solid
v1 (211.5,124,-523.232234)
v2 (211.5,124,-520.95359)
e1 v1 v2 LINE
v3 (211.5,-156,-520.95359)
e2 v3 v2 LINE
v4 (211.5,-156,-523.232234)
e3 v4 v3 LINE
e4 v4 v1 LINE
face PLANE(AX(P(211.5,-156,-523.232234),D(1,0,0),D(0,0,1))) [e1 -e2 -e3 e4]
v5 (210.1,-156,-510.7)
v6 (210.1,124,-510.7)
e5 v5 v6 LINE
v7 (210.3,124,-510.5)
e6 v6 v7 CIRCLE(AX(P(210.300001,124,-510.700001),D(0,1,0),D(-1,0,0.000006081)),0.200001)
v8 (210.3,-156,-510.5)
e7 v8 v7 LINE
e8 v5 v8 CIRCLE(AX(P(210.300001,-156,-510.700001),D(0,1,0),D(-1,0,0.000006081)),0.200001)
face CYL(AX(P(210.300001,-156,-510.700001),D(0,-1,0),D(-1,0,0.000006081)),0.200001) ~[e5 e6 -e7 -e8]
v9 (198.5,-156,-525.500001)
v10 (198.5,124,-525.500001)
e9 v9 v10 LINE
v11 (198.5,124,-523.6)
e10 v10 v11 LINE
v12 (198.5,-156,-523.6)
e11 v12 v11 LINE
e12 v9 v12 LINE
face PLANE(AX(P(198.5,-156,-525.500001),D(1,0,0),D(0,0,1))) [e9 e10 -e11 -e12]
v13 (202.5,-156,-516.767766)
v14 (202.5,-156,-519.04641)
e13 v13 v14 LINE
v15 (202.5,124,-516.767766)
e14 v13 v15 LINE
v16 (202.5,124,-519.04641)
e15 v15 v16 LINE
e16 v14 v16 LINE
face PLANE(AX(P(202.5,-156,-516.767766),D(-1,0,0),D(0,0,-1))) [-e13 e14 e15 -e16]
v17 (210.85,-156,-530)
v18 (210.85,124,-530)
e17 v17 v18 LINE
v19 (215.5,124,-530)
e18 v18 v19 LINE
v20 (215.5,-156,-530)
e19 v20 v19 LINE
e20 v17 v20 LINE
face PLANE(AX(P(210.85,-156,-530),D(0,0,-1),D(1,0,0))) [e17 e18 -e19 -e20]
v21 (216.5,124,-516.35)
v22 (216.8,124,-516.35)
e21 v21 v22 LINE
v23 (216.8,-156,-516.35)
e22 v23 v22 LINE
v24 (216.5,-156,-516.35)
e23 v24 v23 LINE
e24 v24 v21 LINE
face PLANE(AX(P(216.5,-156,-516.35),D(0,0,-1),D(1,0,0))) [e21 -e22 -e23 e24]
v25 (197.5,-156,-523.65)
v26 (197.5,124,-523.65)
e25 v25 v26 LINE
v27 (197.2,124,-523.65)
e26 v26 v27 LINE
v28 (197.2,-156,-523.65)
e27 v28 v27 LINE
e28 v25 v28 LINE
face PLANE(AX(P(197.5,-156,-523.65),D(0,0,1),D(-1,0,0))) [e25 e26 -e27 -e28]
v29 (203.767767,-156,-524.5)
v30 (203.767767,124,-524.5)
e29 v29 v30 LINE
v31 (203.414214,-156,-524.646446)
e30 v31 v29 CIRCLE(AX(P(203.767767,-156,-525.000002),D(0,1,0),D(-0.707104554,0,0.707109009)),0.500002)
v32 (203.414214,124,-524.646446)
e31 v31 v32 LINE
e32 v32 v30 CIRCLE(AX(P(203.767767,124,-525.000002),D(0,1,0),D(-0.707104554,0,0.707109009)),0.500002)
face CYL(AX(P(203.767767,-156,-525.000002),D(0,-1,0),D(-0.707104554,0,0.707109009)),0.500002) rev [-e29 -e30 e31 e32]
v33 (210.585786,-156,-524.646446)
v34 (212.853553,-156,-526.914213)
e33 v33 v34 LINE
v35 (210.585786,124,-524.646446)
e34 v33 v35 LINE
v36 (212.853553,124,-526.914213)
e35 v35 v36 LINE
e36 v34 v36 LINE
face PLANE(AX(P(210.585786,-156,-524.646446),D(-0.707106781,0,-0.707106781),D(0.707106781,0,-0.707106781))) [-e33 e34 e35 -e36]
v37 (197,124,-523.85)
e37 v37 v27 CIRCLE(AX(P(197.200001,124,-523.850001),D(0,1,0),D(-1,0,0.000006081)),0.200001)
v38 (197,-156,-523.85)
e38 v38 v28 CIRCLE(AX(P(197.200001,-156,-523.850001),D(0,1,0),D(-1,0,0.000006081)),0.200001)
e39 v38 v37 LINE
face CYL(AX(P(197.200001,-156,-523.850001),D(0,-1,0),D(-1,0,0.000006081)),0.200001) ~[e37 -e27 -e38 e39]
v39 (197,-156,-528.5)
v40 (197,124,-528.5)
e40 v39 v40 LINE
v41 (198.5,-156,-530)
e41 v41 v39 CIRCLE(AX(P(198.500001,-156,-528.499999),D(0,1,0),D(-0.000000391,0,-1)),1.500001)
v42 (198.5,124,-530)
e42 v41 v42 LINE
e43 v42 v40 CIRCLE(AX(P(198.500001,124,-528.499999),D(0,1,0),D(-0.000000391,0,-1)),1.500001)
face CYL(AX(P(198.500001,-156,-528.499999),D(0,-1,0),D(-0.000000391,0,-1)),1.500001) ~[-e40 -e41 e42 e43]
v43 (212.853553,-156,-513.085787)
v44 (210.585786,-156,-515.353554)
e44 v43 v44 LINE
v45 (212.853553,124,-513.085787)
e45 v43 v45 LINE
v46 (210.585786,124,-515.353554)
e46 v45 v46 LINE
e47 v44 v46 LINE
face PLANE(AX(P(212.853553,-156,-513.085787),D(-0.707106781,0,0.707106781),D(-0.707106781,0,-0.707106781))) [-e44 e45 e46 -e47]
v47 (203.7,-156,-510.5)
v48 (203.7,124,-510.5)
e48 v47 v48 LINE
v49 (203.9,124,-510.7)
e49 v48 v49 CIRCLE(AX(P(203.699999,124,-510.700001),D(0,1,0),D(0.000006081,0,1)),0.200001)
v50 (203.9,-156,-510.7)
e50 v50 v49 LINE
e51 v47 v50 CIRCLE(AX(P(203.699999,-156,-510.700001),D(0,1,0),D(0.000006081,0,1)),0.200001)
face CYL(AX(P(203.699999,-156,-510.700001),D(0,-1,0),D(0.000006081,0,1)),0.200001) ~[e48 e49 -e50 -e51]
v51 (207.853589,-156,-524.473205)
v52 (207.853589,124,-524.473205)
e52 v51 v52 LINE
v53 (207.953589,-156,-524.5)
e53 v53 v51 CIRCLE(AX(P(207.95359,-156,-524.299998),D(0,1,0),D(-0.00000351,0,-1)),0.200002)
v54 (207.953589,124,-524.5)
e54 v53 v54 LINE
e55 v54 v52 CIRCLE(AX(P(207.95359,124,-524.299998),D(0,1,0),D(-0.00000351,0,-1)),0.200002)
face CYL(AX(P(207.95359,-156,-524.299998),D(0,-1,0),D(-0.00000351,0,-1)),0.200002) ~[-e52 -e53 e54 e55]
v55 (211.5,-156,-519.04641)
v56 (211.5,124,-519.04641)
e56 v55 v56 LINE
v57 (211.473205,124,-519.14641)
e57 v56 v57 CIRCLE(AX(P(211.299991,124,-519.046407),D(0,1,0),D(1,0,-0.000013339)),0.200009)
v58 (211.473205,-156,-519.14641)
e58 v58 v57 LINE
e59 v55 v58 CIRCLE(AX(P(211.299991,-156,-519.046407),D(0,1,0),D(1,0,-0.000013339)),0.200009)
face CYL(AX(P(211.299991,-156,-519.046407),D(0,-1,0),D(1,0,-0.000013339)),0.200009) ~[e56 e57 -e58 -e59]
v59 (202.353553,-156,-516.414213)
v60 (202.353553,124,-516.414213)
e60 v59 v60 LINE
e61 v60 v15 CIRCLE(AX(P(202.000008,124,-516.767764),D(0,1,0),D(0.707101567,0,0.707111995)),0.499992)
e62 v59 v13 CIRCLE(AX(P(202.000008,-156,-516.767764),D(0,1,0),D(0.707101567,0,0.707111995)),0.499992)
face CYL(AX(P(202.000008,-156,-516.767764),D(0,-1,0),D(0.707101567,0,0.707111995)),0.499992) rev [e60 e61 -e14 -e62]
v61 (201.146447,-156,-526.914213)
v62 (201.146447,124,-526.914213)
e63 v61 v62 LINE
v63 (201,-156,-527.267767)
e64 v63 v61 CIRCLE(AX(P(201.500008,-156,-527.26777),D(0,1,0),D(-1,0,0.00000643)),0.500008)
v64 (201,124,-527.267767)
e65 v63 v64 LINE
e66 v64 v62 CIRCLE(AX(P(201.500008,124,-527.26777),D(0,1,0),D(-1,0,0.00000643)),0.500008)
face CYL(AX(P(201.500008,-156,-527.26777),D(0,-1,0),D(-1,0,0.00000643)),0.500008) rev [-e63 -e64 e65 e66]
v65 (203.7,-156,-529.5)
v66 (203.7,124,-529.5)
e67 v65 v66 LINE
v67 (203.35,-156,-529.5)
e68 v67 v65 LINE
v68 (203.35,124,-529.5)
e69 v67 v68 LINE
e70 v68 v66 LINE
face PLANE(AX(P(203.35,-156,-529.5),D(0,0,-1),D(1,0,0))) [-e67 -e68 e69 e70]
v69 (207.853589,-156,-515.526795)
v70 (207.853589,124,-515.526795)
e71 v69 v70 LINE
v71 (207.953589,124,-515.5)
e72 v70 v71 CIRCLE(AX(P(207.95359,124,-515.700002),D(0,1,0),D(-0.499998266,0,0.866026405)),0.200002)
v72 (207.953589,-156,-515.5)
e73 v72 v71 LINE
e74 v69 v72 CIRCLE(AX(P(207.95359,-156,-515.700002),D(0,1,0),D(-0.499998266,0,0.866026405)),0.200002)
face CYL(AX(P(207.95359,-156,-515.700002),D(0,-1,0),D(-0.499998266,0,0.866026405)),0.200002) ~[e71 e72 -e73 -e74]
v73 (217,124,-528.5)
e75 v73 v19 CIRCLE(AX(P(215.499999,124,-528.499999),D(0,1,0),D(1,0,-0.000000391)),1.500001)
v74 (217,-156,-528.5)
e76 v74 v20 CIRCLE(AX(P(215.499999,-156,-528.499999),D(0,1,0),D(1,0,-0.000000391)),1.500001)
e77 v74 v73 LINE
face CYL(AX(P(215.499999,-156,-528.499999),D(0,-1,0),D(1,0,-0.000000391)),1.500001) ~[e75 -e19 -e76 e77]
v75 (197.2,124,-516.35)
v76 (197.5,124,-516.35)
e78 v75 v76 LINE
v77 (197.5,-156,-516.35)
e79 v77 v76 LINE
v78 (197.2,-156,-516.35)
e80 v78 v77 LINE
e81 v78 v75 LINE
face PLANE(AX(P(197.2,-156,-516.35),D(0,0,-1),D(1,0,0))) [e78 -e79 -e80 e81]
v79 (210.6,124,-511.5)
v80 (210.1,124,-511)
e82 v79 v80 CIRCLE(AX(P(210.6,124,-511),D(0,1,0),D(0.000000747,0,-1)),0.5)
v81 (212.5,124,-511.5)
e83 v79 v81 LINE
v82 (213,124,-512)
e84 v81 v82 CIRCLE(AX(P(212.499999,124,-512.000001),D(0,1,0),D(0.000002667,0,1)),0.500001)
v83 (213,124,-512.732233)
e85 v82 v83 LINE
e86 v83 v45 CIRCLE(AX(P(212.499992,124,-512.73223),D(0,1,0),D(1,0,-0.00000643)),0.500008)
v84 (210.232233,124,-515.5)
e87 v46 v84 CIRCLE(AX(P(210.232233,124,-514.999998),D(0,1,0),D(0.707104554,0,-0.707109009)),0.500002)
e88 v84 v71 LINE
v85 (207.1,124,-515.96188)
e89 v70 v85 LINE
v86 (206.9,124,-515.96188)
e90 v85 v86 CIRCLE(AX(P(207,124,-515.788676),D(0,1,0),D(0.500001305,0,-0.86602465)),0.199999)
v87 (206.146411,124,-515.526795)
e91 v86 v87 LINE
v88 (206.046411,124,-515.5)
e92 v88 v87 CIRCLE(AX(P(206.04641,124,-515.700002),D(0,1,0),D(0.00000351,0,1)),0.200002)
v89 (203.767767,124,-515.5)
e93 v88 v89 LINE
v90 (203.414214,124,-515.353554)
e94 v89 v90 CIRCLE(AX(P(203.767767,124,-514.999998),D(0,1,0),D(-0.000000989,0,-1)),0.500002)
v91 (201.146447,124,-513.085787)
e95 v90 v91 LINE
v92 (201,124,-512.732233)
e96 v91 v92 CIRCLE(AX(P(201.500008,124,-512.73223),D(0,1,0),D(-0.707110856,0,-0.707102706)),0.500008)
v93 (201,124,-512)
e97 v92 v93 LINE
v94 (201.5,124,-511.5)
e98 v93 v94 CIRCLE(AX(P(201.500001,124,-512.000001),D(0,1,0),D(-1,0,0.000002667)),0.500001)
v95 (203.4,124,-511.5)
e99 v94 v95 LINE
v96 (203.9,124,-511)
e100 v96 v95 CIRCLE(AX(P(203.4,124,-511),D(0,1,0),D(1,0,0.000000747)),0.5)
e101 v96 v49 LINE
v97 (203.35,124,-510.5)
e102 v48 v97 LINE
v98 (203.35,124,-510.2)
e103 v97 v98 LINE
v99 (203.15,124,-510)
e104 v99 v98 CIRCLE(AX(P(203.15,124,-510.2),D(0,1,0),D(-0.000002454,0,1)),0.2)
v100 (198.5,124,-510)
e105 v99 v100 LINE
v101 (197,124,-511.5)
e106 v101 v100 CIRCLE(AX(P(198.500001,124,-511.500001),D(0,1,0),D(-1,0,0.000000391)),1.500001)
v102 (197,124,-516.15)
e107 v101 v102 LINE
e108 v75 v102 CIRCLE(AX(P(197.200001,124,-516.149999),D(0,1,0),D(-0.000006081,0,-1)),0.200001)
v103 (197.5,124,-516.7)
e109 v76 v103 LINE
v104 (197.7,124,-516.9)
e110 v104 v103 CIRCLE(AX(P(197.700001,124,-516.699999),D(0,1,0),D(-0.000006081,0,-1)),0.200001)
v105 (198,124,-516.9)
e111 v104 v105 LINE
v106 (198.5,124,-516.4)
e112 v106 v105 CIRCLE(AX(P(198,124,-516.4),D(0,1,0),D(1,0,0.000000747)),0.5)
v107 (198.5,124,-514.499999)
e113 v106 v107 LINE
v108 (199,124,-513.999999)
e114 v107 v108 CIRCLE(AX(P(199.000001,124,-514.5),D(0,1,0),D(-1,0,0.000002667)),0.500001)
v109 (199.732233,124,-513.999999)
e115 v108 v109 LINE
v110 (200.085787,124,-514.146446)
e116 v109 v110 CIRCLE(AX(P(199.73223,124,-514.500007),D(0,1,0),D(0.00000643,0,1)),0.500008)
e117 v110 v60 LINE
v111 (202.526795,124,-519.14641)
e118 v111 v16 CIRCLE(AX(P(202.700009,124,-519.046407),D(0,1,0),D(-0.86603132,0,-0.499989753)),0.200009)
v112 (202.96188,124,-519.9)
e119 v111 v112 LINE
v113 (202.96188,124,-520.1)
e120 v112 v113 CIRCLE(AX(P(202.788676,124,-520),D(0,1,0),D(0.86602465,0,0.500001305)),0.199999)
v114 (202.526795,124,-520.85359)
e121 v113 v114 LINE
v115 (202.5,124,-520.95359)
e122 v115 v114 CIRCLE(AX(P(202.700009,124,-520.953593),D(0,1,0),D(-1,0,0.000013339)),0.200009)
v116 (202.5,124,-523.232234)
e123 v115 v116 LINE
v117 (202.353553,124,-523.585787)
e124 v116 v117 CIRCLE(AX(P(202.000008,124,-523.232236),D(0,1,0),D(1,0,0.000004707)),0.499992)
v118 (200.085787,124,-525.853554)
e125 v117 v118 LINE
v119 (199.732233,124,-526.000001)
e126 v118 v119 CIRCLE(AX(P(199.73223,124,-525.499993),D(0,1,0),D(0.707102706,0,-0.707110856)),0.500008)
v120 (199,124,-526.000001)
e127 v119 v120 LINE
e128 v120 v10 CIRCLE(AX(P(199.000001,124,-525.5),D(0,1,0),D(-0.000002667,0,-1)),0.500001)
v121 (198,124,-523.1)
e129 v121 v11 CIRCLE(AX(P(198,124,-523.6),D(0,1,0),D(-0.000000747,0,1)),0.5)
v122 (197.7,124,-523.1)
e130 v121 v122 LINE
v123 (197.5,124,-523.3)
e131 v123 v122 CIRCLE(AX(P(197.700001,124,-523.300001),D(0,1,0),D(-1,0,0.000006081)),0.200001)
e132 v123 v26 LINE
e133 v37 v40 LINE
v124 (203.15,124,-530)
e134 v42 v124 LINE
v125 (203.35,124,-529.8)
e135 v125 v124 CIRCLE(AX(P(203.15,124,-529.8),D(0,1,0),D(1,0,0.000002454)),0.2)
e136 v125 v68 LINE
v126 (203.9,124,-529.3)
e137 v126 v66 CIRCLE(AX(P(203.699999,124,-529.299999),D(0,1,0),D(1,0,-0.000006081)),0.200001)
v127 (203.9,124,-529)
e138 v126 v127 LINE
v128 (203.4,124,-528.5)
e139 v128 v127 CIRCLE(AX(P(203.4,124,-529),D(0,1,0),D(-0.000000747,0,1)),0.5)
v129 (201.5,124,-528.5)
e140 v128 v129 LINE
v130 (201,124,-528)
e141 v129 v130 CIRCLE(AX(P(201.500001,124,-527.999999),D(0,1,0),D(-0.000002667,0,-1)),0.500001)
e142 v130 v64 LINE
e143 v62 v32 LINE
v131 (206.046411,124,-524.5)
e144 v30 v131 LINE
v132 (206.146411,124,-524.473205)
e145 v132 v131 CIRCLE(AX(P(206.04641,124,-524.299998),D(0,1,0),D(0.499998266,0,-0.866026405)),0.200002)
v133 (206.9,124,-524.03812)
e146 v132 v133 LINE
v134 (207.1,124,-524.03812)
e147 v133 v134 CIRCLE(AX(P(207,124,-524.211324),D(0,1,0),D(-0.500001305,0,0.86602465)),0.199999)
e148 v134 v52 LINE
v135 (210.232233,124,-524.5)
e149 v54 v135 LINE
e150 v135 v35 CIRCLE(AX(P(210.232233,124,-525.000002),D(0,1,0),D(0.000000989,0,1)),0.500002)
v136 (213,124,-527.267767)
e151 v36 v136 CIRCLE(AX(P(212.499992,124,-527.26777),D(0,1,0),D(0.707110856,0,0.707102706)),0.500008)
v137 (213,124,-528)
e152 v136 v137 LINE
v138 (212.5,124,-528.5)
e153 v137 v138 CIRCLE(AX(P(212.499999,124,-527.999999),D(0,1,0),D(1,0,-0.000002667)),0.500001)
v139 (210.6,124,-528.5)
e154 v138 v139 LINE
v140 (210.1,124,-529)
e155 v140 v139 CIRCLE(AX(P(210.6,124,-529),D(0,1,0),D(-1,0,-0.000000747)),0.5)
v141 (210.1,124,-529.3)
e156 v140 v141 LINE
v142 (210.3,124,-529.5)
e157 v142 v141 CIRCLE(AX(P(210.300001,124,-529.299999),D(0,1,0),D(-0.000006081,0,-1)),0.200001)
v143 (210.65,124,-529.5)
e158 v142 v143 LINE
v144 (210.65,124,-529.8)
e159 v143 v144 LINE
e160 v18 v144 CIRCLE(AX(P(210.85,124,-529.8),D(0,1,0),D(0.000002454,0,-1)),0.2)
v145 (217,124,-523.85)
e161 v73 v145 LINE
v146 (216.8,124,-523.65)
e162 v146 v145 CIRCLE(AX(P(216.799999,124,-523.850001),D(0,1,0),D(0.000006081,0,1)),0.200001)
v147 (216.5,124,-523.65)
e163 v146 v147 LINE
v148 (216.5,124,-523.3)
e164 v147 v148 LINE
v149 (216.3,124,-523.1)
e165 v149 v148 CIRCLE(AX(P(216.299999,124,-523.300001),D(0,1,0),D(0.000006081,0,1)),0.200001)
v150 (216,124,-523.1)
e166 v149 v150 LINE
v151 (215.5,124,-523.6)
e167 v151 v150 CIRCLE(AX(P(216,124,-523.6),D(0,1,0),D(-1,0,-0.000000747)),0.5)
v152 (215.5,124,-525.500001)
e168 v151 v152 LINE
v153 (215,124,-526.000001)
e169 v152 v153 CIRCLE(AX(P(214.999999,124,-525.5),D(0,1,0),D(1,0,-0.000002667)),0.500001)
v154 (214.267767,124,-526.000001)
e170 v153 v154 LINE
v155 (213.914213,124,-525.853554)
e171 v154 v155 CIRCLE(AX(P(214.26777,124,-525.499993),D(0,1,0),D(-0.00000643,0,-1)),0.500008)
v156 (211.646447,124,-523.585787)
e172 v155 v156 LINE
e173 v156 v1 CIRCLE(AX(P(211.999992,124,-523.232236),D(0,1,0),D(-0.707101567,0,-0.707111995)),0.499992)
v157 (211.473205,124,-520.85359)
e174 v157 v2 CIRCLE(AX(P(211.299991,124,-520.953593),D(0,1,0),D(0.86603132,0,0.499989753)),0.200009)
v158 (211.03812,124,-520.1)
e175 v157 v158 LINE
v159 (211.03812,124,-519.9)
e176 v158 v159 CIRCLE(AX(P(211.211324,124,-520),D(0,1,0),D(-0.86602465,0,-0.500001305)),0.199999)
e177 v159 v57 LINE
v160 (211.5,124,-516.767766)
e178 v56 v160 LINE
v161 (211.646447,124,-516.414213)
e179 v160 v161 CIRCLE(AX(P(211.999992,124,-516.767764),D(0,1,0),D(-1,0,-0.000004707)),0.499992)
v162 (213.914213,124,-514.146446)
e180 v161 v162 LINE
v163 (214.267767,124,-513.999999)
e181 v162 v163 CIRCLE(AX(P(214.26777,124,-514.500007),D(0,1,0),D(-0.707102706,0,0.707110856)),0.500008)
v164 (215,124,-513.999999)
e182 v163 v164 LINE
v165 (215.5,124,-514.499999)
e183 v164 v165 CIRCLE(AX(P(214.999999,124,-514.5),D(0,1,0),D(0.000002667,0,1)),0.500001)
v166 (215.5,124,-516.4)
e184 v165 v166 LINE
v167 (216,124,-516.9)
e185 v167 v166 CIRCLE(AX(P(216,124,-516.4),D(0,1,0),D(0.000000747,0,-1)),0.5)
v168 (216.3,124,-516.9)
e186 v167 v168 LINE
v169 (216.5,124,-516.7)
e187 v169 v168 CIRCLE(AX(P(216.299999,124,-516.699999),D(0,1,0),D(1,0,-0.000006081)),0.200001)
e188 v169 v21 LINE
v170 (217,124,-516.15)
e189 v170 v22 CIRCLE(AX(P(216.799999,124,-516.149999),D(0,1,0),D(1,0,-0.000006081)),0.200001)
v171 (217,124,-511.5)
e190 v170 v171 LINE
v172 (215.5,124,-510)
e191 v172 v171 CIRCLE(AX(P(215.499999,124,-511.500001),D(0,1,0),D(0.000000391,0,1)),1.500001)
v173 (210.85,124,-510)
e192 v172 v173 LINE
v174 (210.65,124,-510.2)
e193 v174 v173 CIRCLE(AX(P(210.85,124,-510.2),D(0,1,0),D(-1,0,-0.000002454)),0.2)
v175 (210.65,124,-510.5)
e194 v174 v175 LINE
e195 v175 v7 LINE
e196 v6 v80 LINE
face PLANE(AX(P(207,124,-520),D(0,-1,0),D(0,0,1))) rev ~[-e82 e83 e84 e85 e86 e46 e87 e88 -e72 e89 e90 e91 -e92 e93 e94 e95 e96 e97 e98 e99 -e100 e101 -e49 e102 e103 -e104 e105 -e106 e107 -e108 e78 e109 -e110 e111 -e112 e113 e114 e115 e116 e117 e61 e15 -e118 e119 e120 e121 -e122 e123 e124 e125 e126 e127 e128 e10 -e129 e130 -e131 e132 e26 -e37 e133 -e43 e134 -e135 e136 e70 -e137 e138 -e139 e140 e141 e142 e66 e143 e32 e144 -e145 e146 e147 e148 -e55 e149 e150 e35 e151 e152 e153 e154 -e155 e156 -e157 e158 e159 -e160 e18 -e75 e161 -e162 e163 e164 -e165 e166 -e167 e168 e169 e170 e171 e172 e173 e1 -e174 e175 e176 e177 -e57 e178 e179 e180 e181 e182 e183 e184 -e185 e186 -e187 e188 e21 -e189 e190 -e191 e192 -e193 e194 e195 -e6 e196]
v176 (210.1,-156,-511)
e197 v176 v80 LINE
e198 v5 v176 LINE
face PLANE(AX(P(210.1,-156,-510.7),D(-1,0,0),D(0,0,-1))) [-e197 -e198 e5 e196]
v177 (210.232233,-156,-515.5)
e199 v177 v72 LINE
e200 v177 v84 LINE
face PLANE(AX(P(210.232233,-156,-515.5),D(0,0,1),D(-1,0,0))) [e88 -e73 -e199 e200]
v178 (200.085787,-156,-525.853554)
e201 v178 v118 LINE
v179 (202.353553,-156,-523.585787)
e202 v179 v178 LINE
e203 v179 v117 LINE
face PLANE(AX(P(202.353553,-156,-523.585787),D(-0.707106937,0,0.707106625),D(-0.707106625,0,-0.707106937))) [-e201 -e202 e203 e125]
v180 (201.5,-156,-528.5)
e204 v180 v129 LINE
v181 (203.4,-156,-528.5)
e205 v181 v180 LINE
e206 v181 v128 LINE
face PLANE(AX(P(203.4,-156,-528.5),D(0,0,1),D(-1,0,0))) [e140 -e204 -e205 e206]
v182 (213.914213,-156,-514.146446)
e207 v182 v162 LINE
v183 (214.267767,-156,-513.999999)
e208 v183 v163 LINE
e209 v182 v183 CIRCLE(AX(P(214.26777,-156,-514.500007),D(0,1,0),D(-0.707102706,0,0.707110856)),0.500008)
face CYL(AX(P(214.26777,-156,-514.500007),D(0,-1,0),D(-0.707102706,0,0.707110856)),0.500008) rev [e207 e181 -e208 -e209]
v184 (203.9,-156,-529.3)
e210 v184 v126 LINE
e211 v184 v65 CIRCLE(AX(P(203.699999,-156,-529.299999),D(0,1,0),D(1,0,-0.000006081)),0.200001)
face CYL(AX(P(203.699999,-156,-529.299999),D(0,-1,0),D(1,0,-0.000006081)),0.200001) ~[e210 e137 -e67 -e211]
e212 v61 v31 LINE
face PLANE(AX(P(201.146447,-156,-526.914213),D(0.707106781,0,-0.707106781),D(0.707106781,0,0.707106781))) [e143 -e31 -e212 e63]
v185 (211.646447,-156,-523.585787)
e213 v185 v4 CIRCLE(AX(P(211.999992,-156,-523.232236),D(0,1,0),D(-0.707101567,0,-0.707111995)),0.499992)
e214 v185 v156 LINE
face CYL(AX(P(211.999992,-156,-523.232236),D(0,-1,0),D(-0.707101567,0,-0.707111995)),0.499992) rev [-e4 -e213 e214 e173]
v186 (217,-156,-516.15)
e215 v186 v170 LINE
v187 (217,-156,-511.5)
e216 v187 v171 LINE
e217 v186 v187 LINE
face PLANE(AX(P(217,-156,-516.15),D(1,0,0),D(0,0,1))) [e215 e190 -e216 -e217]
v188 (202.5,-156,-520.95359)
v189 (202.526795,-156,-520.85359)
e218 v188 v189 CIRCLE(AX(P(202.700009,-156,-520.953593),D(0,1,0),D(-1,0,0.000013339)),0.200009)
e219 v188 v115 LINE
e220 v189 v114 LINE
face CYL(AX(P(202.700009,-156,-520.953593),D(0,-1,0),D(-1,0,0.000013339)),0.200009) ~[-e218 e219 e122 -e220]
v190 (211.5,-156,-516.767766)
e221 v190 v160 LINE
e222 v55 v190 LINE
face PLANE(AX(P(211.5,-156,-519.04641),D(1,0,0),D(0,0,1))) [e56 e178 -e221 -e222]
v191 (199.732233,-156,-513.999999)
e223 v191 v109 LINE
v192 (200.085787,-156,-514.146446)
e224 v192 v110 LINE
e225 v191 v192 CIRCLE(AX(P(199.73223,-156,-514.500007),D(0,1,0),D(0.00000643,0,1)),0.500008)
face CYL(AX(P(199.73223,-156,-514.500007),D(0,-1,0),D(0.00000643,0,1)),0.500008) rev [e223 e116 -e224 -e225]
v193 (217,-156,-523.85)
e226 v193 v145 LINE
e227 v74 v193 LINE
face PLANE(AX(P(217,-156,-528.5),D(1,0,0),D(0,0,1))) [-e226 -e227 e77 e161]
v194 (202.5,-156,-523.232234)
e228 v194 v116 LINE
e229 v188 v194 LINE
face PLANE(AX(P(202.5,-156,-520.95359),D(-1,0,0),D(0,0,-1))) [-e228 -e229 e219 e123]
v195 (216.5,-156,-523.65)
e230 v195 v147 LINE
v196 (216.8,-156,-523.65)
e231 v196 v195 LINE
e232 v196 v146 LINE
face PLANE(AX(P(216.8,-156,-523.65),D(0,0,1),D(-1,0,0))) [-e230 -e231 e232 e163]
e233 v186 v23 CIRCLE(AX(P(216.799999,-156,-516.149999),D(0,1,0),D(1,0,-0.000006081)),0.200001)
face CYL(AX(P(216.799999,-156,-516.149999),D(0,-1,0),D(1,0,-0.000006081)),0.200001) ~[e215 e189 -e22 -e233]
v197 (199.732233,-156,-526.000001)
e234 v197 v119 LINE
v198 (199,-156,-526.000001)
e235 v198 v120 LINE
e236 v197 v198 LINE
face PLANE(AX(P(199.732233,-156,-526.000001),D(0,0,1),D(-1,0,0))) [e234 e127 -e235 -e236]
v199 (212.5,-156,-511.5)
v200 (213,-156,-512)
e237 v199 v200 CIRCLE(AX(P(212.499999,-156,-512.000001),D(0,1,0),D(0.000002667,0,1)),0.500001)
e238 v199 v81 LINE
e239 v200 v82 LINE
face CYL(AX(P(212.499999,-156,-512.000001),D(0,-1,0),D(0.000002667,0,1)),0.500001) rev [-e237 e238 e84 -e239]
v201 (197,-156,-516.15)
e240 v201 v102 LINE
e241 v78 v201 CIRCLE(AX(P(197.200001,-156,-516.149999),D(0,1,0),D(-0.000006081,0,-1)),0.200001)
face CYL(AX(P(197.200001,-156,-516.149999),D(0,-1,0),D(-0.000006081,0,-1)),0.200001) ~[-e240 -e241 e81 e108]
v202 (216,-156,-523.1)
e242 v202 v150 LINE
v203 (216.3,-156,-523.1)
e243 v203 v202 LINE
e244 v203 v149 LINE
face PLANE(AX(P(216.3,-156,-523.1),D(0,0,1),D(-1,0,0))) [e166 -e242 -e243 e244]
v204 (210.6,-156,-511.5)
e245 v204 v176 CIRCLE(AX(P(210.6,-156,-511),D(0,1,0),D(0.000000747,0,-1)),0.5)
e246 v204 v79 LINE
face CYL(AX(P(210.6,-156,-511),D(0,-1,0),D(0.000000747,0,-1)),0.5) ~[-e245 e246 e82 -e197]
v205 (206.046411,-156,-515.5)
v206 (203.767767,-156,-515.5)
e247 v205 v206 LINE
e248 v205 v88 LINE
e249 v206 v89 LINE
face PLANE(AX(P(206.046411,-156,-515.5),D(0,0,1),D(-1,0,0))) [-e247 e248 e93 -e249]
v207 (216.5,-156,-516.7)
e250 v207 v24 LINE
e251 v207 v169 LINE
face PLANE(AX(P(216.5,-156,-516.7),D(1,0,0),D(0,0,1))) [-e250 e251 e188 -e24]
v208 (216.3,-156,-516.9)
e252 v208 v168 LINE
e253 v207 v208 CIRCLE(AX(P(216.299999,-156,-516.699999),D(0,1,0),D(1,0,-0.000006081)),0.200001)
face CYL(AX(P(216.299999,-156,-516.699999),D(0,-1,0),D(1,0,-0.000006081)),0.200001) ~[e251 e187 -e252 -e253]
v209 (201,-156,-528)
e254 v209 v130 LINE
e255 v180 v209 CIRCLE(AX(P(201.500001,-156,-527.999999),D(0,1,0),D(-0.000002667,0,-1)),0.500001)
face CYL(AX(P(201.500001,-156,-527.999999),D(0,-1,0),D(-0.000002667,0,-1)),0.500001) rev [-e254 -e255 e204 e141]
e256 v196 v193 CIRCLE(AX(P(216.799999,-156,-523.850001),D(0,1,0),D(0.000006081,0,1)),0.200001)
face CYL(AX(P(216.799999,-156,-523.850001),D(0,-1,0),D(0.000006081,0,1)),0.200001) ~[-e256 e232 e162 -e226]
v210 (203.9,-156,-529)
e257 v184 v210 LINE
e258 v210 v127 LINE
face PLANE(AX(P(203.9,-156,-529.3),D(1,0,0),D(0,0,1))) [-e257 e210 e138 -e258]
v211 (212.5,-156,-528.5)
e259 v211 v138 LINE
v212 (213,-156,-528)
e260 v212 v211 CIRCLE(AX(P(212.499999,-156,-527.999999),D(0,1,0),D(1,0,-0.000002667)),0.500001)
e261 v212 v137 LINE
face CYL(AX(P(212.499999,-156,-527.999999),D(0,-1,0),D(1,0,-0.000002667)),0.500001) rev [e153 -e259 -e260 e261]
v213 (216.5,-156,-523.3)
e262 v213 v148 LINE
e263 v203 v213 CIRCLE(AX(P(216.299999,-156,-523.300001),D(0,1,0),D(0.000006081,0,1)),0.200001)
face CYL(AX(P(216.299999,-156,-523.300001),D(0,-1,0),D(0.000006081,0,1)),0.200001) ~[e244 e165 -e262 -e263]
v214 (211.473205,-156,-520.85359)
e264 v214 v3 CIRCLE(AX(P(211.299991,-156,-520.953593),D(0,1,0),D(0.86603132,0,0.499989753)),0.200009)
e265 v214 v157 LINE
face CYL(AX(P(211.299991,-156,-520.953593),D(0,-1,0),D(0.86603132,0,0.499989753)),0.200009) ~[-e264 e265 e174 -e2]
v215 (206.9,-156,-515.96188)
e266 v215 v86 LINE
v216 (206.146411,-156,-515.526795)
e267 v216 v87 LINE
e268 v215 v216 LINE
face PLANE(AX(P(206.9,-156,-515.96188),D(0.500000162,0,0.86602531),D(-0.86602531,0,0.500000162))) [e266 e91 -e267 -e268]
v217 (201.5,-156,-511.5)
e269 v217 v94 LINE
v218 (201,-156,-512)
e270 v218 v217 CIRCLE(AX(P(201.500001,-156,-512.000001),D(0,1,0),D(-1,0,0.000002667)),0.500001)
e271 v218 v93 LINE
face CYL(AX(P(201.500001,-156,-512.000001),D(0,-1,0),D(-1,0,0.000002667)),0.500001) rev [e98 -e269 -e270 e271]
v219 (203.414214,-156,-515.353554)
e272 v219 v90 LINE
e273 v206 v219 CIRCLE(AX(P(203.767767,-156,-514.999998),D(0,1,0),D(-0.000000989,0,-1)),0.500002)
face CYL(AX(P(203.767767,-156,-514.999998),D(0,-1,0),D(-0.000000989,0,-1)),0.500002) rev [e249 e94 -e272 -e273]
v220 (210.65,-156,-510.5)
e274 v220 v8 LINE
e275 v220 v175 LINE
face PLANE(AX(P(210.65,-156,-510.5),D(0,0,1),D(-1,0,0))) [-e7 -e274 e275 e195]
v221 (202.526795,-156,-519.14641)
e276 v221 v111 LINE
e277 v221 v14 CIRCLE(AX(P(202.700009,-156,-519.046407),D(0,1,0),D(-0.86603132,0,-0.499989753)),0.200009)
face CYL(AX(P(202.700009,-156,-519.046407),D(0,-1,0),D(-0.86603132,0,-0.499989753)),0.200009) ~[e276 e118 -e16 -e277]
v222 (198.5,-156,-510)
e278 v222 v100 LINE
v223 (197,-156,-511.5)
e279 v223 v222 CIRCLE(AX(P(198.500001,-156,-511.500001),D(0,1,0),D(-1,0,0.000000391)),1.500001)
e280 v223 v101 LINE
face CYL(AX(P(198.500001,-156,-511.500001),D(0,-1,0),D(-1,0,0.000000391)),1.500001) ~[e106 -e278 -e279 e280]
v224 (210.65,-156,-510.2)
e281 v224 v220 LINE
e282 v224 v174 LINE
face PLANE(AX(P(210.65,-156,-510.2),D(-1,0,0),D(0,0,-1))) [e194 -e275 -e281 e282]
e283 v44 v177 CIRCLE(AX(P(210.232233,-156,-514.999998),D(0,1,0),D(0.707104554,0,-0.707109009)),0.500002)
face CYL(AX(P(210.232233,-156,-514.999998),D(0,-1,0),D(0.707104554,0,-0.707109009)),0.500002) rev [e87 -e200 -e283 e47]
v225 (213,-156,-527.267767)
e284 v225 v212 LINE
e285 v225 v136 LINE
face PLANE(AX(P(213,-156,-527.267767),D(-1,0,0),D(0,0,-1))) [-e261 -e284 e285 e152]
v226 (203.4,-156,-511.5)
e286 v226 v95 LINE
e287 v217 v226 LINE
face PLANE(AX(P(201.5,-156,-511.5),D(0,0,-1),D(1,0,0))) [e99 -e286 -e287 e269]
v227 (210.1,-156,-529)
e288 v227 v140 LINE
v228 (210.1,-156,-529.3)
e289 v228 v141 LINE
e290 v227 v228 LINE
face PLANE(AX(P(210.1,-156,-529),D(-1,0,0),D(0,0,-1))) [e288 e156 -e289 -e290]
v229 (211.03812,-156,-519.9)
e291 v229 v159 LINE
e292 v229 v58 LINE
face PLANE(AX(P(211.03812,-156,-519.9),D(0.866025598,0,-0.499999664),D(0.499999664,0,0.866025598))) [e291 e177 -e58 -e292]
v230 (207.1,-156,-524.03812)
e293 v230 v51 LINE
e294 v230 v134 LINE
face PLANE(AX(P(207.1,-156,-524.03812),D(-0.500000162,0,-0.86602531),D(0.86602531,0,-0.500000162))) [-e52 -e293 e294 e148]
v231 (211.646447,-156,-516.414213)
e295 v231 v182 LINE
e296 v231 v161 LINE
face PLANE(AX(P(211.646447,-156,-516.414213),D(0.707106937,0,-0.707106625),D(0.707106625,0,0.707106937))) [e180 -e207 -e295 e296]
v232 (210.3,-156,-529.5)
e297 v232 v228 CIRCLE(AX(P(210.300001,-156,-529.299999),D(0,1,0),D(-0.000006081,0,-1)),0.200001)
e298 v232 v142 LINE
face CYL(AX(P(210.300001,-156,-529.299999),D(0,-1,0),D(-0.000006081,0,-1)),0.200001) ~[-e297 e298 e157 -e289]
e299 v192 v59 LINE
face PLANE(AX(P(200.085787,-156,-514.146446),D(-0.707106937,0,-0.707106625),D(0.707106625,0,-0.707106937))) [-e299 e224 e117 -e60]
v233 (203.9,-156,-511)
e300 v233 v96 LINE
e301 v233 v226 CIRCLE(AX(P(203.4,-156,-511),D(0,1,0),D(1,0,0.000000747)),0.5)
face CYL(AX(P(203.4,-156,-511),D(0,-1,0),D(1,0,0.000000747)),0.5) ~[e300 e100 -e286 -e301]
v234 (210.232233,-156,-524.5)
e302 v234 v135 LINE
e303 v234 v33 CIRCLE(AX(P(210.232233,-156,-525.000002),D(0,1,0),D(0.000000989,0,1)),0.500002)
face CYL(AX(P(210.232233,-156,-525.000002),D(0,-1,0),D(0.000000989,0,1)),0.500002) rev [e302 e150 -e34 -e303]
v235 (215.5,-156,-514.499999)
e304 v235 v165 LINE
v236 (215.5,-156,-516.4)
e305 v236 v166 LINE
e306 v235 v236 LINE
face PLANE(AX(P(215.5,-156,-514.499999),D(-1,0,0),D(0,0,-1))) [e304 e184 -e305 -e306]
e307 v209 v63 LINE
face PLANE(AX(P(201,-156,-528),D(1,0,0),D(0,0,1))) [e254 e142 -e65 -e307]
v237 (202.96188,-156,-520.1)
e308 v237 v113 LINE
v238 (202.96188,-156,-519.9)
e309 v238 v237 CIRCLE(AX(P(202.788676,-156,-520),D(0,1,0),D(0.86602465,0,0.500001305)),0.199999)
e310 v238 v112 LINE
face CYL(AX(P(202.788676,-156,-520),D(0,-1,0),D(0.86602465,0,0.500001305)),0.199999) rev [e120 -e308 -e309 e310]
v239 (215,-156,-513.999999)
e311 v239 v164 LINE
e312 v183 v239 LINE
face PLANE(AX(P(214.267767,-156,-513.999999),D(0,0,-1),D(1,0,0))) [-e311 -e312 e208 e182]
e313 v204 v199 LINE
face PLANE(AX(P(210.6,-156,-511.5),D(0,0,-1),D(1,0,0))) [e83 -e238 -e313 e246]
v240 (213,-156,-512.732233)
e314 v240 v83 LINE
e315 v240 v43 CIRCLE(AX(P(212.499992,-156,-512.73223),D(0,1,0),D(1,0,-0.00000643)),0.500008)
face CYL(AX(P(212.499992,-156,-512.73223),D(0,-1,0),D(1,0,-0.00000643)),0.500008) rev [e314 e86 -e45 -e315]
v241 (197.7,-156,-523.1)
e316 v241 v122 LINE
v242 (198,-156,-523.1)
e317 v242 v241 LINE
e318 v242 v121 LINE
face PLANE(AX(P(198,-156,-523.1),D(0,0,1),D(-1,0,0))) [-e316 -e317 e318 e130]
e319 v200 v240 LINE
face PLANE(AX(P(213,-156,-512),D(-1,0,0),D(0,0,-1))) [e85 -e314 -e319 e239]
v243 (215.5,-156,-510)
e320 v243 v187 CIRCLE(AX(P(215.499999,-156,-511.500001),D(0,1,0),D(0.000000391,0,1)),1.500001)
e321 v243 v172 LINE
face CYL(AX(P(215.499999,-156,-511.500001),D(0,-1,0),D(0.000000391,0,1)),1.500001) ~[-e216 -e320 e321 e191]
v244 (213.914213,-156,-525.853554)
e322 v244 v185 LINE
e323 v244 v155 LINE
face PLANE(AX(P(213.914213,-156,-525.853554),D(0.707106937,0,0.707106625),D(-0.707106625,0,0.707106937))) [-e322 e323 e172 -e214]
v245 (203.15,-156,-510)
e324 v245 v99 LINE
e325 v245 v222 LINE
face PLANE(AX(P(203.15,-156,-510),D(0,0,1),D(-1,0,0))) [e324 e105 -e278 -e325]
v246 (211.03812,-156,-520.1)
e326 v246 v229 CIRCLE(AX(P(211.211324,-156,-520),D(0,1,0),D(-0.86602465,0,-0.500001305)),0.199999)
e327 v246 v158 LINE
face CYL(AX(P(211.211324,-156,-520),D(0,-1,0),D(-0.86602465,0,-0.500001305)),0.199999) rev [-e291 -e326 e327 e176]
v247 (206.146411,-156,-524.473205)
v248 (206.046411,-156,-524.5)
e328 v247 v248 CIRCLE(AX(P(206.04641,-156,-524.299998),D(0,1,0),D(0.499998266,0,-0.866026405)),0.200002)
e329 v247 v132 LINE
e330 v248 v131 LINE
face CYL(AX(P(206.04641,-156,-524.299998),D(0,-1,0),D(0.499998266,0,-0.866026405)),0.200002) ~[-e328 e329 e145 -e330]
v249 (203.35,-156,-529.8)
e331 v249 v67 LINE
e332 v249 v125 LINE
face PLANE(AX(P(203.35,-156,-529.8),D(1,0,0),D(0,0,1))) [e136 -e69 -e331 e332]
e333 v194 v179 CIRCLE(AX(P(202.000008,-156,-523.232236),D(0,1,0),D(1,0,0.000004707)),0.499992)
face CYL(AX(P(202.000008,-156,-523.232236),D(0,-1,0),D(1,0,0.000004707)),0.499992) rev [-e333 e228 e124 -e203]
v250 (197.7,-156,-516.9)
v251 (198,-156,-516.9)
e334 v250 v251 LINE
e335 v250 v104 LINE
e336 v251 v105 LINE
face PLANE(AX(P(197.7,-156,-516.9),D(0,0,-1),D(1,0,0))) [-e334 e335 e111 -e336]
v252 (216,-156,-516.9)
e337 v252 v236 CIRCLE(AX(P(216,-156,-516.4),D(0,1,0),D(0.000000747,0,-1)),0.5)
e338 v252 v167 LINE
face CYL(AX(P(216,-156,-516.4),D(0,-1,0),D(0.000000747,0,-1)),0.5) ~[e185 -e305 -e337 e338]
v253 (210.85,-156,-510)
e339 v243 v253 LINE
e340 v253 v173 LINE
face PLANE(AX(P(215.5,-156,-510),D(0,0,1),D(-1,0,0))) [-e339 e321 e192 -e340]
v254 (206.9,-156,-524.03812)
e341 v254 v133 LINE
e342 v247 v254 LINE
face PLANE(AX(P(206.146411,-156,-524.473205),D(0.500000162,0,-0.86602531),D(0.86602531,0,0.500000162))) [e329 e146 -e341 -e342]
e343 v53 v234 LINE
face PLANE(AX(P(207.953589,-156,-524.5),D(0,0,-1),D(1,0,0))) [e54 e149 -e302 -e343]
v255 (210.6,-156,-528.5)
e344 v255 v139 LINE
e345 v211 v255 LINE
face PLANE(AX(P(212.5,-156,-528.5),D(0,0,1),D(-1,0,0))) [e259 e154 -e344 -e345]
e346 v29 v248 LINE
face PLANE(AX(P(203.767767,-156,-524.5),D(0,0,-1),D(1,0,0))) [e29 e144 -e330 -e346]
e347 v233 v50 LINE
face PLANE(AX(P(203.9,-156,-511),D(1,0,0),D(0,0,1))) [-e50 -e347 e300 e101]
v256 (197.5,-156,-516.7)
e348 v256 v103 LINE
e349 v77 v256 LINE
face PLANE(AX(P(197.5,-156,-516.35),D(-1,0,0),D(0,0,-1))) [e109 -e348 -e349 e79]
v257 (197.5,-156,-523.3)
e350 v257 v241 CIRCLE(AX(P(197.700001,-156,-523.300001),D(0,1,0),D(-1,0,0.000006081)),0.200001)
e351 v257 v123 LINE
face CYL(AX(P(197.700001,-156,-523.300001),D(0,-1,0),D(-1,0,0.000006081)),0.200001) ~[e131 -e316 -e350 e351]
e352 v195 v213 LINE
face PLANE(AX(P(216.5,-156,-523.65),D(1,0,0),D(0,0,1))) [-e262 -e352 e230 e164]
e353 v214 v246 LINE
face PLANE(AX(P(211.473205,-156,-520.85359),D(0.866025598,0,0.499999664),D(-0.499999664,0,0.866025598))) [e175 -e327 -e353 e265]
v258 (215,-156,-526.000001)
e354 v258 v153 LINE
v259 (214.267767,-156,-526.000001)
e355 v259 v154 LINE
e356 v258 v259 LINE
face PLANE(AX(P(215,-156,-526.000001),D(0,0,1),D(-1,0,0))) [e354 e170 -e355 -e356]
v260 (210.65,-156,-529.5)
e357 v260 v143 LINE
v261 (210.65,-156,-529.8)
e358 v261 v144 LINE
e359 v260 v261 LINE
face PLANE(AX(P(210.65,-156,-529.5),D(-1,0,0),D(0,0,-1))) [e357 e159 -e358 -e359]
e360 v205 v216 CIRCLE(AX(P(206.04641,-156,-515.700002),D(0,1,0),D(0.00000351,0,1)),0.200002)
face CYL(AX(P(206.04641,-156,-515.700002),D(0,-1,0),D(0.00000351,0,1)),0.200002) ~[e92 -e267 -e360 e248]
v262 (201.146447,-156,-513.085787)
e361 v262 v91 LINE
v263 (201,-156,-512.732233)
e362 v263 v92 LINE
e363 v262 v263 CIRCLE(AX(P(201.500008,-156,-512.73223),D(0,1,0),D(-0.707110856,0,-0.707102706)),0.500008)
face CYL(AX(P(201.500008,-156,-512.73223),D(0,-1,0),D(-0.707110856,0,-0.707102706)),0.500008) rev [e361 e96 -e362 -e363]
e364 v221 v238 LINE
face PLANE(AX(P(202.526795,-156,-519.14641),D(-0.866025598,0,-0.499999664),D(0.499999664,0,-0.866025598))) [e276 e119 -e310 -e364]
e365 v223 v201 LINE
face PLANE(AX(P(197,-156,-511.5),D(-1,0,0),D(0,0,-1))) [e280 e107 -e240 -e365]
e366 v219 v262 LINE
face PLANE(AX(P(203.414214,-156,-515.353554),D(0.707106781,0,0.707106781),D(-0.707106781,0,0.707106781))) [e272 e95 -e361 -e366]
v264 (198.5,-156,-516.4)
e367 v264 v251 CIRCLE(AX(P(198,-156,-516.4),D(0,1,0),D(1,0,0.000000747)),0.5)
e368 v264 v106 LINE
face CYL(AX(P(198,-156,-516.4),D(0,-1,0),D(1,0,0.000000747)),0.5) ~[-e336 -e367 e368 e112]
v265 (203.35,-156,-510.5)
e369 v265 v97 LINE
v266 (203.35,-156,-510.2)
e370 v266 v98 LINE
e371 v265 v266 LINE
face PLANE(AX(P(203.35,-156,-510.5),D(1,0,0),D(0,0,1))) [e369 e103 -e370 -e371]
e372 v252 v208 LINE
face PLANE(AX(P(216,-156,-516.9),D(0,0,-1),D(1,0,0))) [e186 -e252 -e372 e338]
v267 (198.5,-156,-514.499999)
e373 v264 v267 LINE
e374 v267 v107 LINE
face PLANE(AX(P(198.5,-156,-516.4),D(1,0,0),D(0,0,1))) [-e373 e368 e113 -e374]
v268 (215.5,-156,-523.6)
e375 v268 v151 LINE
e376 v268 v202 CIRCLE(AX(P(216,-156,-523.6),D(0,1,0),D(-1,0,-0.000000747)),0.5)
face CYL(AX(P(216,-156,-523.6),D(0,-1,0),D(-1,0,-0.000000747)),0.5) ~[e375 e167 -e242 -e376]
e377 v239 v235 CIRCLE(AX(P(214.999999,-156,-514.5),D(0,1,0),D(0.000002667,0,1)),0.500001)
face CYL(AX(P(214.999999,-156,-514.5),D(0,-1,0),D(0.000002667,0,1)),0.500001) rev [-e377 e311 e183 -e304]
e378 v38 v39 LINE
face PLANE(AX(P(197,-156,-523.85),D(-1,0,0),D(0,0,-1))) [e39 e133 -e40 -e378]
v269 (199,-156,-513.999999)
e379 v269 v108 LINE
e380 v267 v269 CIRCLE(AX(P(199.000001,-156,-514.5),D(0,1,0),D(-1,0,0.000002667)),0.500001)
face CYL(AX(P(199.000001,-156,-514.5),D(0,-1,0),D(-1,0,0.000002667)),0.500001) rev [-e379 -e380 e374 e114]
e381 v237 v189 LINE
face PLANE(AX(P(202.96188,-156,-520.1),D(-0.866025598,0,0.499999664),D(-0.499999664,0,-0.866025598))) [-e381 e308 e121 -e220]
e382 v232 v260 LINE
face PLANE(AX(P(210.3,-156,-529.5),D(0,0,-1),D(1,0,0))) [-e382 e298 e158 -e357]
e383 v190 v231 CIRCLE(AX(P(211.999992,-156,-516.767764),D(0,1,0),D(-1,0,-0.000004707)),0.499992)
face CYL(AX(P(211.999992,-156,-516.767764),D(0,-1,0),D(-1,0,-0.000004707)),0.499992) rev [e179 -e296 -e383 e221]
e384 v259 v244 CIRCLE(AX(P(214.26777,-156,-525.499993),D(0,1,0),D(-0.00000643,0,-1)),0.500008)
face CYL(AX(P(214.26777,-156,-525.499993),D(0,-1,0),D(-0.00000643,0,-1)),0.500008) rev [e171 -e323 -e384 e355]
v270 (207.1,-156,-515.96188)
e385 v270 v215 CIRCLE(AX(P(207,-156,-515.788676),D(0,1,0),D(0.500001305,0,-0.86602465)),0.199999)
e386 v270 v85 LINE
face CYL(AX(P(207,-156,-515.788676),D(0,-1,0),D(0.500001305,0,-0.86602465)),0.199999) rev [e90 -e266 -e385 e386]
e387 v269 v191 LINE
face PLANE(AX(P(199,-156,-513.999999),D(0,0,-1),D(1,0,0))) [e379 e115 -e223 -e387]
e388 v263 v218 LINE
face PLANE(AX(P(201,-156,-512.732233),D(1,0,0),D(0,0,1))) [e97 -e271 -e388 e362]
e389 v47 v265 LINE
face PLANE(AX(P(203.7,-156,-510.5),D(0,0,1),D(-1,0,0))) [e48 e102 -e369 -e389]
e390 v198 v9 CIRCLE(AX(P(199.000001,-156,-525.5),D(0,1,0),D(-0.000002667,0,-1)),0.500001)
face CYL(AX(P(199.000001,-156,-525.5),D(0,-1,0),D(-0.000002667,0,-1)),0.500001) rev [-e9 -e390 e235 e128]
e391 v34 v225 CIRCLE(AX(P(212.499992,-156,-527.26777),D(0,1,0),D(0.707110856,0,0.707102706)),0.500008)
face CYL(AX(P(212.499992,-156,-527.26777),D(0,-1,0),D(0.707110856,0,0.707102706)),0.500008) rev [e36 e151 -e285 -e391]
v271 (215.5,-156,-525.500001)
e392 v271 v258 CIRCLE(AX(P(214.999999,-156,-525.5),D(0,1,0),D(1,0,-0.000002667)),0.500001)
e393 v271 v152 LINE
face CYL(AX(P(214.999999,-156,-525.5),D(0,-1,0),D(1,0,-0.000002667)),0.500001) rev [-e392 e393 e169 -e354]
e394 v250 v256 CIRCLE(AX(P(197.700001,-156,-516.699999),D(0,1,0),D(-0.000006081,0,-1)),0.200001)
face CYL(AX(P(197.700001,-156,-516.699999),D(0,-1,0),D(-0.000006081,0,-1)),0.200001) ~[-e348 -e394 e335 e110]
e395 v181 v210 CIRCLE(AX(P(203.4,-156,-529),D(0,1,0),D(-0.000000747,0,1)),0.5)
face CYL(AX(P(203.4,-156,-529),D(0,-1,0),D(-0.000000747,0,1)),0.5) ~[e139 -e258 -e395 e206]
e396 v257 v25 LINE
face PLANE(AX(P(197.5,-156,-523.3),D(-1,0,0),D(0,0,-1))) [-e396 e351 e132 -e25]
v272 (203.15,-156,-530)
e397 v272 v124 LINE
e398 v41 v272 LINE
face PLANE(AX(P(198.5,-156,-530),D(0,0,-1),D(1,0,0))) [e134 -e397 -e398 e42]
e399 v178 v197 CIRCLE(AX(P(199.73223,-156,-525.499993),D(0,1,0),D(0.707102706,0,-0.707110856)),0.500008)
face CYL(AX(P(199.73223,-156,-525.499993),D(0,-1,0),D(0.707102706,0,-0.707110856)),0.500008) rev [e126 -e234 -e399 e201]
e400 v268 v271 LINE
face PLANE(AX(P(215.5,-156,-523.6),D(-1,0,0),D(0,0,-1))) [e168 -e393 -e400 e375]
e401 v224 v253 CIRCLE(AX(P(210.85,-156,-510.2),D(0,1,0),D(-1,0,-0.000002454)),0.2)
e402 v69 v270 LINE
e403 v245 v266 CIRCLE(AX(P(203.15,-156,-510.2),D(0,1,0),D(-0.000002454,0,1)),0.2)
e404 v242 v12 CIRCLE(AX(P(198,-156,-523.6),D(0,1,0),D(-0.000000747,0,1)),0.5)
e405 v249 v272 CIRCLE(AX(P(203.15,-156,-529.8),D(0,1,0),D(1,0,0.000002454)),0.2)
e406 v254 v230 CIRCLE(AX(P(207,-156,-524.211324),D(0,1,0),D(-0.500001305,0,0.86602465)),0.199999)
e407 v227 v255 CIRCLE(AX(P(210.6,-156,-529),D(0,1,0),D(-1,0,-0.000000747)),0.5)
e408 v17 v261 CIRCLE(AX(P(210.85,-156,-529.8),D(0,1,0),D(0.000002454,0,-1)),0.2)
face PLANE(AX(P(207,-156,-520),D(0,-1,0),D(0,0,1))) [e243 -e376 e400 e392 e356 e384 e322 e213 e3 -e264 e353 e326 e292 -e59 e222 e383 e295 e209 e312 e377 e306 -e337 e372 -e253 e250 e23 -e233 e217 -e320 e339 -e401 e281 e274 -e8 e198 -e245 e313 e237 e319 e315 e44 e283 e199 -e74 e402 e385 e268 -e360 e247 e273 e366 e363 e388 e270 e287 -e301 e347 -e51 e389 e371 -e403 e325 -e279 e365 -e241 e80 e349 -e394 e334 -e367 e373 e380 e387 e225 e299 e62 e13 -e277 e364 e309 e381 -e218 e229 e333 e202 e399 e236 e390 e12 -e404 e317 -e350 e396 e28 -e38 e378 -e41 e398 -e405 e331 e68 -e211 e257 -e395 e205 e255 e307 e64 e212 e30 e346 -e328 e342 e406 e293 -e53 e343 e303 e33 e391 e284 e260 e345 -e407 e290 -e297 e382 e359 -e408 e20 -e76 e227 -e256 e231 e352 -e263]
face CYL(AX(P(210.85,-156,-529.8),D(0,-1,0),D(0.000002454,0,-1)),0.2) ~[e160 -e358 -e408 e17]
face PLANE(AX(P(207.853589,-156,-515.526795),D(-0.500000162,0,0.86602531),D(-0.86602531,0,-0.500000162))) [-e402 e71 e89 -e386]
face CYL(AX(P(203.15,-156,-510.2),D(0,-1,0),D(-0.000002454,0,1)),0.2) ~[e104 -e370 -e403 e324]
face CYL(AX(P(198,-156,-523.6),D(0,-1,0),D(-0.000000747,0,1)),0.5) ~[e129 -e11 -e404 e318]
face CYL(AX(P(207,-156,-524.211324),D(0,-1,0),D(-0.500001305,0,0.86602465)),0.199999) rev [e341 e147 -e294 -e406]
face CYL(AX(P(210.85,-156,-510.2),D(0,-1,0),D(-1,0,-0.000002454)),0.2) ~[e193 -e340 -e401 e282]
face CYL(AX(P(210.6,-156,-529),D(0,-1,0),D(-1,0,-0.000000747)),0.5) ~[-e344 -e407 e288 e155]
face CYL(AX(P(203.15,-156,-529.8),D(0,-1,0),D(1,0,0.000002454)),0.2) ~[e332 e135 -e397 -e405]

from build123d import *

# Parameters (mm, degrees)
PAD008_DEPTH    = 280
POCKET020_DEPTH = 280.001


with BuildPart() as pad008:
    # Sketch017 → Pad008 (new body)
    with BuildSketch(Plane(origin=(0, 0, -1.5), x_dir=(0, 0, -1), z_dir=(0, 1, 0))):
        with BuildLine():
            Line((0, 20), (4.65, 20))
            ThreePointArc((4.85, 19.8), (4.791421, 19.941421), (4.65, 20))
            Line((4.85, 19.8), (4.85, 19.5))
            Line((4.85, 19.5), (5.2, 19.5))
            ThreePointArc((5.4, 19.3), (5.341421, 19.441421), (5.2, 19.5))
            Line((5.4, 19.3), (5.4, 19))
            ThreePointArc((4.9, 18.5), (5.253553, 18.646446), (5.4, 19))
            Line((4.9, 18.5), (2.999999, 18.5))
            ThreePointArc((2.999999, 18.5), (2.646446, 18.353553), (2.499999, 18))
            Line((2.499999, 18), (2.499999, 17.267767))
            ThreePointArc((2.499999, 17.267767), (2.53806, 17.076425), (2.646446, 16.914213))
            Line((2.646446, 16.914213), (4.914213, 14.646447))
            ThreePointArc((4.914213, 14.646447), (5.076424, 14.53806), (5.267766, 14.5))
            Line((5.267766, 14.5), (7.54641, 14.5))
            ThreePointArc((7.64641, 14.473205), (7.598173, 14.493185), (7.54641, 14.5))
            Line((7.64641, 14.473205), (8.4, 14.03812))
            ThreePointArc((8.4, 14.03812), (8.5, 14.011325), (8.6, 14.03812))
            Line((8.6, 14.03812), (9.35359, 14.473205))
            ThreePointArc((9.45359, 14.5), (9.401827, 14.493185), (9.35359, 14.473205))
            Line((9.45359, 14.5), (11.732234, 14.5))
            ThreePointArc((11.732234, 14.5), (11.923576, 14.53806), (12.085787, 14.646447))
            Line((12.085787, 14.646447), (14.353554, 16.914213))
            ThreePointArc((14.353554, 16.914213), (14.46194, 17.076425), (14.500001, 17.267767))
            Line((14.500001, 17.267767), (14.500001, 18))
            ThreePointArc((14.500001, 18), (14.353554, 18.353553), (14.000001, 18.5))
            Line((14.000001, 18.5), (12.1, 18.5))
            ThreePointArc((11.6, 19), (11.746447, 18.646446), (12.1, 18.5))
            Line((11.6, 19), (11.6, 19.3))
            ThreePointArc((11.8, 19.5), (11.658579, 19.441421), (11.6, 19.3))
            Line((11.8, 19.5), (12.15, 19.5))
            Line((12.15, 19.5), (12.15, 19.8))
            ThreePointArc((12.35, 20), (12.208579, 19.941421), (12.15, 19.8))
            Line((12.35, 20), (17, 20))
            ThreePointArc((18.5, 18.5), (18.06066, 19.56066), (17, 20))
            Line((18.5, 18.5), (18.5, 13.85))
            ThreePointArc((18.3, 13.65), (18.441421, 13.708578), (18.5, 13.85))
            Line((18.3, 13.65), (18, 13.65))
            Line((18, 13.65), (18, 13.3))
            ThreePointArc((17.8, 13.1), (17.941421, 13.158579), (18, 13.3))
            Line((17.8, 13.1), (17.5, 13.1))
            ThreePointArc((17, 13.6), (17.146446, 13.246447), (17.5, 13.1))
            Line((17, 13.6), (17, 15.5))
            ThreePointArc((17, 15.5), (16.853553, 15.853553), (16.5, 16))
            Line((16.5, 16), (15.767767, 16))
            ThreePointArc((15.767767, 16), (15.576425, 15.961939), (15.414213, 15.853553))
            Line((15.414213, 15.853553), (13.146446, 13.585786))
            ThreePointArc((13.146446, 13.585786), (13.03806, 13.423574), (13, 13.232233))
            Line((13, 13.232233), (13, 10.953589))
            ThreePointArc((12.973205, 10.853589), (12.993185, 10.901825), (13, 10.953589))
            Line((12.973205, 10.853589), (12.53812, 10.1))
            ThreePointArc((12.53812, 10.1), (12.511325, 10), (12.53812, 9.9))
            Line((12.53812, 9.9), (12.973205, 9.146411))
            ThreePointArc((13, 9.046411), (12.993185, 9.098175), (12.973205, 9.146411))
            Line((13, 9.046411), (13, 6.767767))
            ThreePointArc((13, 6.767767), (13.03806, 6.576426), (13.146446, 6.414214))
            Line((13.146446, 6.414214), (15.414213, 4.146447))
            ThreePointArc((15.414213, 4.146447), (15.576425, 4.038061), (15.767767, 4))
            Line((15.767767, 4), (16.5, 4))
            ThreePointArc((16.5, 4), (16.853553, 4.146447), (17, 4.5))
            Line((17, 4.5), (17, 6.4))
            ThreePointArc((17.5, 6.9), (17.146446, 6.753553), (17, 6.4))
            Line((17.5, 6.9), (17.8, 6.9))
            ThreePointArc((18, 6.7), (17.941421, 6.841421), (17.8, 6.9))
            Line((18, 6.7), (18, 6.35))
            Line((18, 6.35), (18.3, 6.35))
            ThreePointArc((18.5, 6.15), (18.441421, 6.291422), (18.3, 6.35))
            Line((18.5, 6.15), (18.5, 1.5))
            ThreePointArc((17, 0), (18.06066, 0.43934), (18.5, 1.5))
            Line((17, 0), (12.35, 0))
            ThreePointArc((12.15, 0.2), (12.208579, 0.058579), (12.35, 0))
            Line((12.15, 0.2), (12.15, 0.5))
            Line((12.15, 0.5), (11.8, 0.5))
            ThreePointArc((11.6, 0.7), (11.658579, 0.558579), (11.8, 0.5))
            Line((11.6, 0.7), (11.6, 1))
            ThreePointArc((12.1, 1.5), (11.746447, 1.353554), (11.6, 1))
            Line((12.1, 1.5), (14.000001, 1.5))
            ThreePointArc((14.000001, 1.5), (14.353554, 1.646447), (14.500001, 2))
            Line((14.500001, 2), (14.500001, 2.732233))
            ThreePointArc((14.500001, 2.732233), (14.46194, 2.923575), (14.353554, 3.085787))
            Line((14.353554, 3.085787), (12.085787, 5.353553))
            ThreePointArc((12.085787, 5.353553), (11.923576, 5.46194), (11.732234, 5.5))
            Line((11.732234, 5.5), (9.45359, 5.5))
            ThreePointArc((9.35359, 5.526795), (9.401827, 5.506815), (9.45359, 5.5))
            Line((9.35359, 5.526795), (8.6, 5.96188))
            ThreePointArc((8.6, 5.96188), (8.5, 5.988675), (8.4, 5.96188))
            Line((8.4, 5.96188), (7.64641, 5.526795))
            ThreePointArc((7.54641, 5.5), (7.598173, 5.506815), (7.64641, 5.526795))
            Line((7.54641, 5.5), (5.267766, 5.5))
            ThreePointArc((5.267766, 5.5), (5.076424, 5.46194), (4.914213, 5.353553))
            Line((4.914213, 5.353553), (2.646446, 3.085787))
            ThreePointArc((2.646446, 3.085787), (2.53806, 2.923575), (2.499999, 2.732233))
            Line((2.499999, 2.732233), (2.499999, 2))
            ThreePointArc((2.499999, 2), (2.646446, 1.646447), (2.999999, 1.5))
            Line((2.999999, 1.5), (4.9, 1.5))
            ThreePointArc((5.4, 1), (5.253553, 1.353554), (4.9, 1.5))
            Line((5.4, 1), (5.4, 0.7))
            ThreePointArc((5.2, 0.5), (5.341421, 0.558579), (5.4, 0.7))
            Line((5.2, 0.5), (4.85, 0.5))
            Line((4.85, 0.5), (4.85, 0.2))
            ThreePointArc((4.65, 0), (4.791421, 0.058579), (4.85, 0.2))
            Line((4.65, 0), (0, 0))
            ThreePointArc((-1.5, 1.5), (-1.06066, 0.43934), (0, 0))
            Line((-1.5, 1.5), (-1.5, 6.15))
            ThreePointArc((-1.3, 6.35), (-1.441421, 6.291422), (-1.5, 6.15))
            Line((-1.3, 6.35), (-1, 6.35))
            Line((-1, 6.35), (-1, 6.7))
            ThreePointArc((-0.8, 6.9), (-0.941421, 6.841421), (-1, 6.7))
            Line((-0.8, 6.9), (-0.5, 6.9))
            ThreePointArc((0, 6.4), (-0.146446, 6.753553), (-0.5, 6.9))
            Line((0, 6.4), (0, 4.5))
            ThreePointArc((0, 4.5), (0.146447, 4.146447), (0.5, 4))
            Line((0.5, 4), (1.232233, 4))
            ThreePointArc((1.232233, 4), (1.423575, 4.038061), (1.585787, 4.146447))
            Line((1.585787, 4.146447), (3.853554, 6.414214))
            ThreePointArc((3.853554, 6.414214), (3.96194, 6.576426), (4, 6.767767))
            Line((4, 6.767767), (4, 9.046411))
            ThreePointArc((4.026795, 9.146411), (4.006815, 9.098175), (4, 9.046411))
            Line((4.026795, 9.146411), (4.46188, 9.9))
            ThreePointArc((4.46188, 9.9), (4.488675, 10), (4.46188, 10.1))
            Line((4.46188, 10.1), (4.026795, 10.853589))
            ThreePointArc((4, 10.953589), (4.006815, 10.901825), (4.026795, 10.853589))
            Line((4, 10.953589), (4, 13.232233))
            ThreePointArc((4, 13.232233), (3.96194, 13.423574), (3.853554, 13.585786))
            Line((3.853554, 13.585786), (1.585787, 15.853553))
            ThreePointArc((1.585787, 15.853553), (1.423575, 15.961939), (1.232233, 16))
            Line((1.232233, 16), (0.5, 16))
            ThreePointArc((0.5, 16), (0.146447, 15.853553), (0, 15.5))
            Line((0, 15.5), (0, 13.6))
            ThreePointArc((-0.5, 13.1), (-0.146446, 13.246447), (0, 13.6))
            Line((-0.5, 13.1), (-0.8, 13.1))
            ThreePointArc((-1, 13.3), (-0.941421, 13.158579), (-0.8, 13.1))
            Line((-1, 13.3), (-1, 13.65))
            Line((-1, 13.65), (-1.3, 13.65))
            ThreePointArc((-1.5, 13.85), (-1.441421, 13.708578), (-1.3, 13.65))
            Line((-1.5, 13.85), (-1.5, 18.5))
            ThreePointArc((0, 20), (-1.06066, 19.56066), (-1.5, 18.5))
        make_face()
    extrude(amount=PAD008_DEPTH)


with BuildPart() as fusion010:
    # Pocket020 base: copy of Pad008
    add(pad008.part)

    # Sketch018 → Pocket020 (cut, through all)
    with BuildSketch(Plane(origin=(0, 280, -1.5), x_dir=(0, 0, -1), z_dir=(0, 1, 0))):
        with BuildLine():
            ThreePointArc((6.586105, 12.989641), (5.988263, 12.50841), (5.507825, 11.909931))
            Line((6.054705, 11.258185), (5.507825, 11.909931))
            ThreePointArc((6.054705, 11.258185), (5.75, 10), (6.054705, 8.741815))
            Line((5.507825, 8.090069), (6.054705, 8.741815))
            ThreePointArc((5.507825, 8.090069), (5.988263, 7.49159), (6.586105, 7.010359))
            Line((7.241815, 7.554705), (6.586105, 7.010359))
            ThreePointArc((7.241815, 7.554705), (8.5, 7.25), (9.758185, 7.554705))
            Line((10.413895, 7.010359), (9.758185, 7.554705))
            ThreePointArc((10.413895, 7.010359), (11.011737, 7.49159), (11.492175, 8.090069))
            Line((10.945295, 8.741815), (11.492175, 8.090069))
            ThreePointArc((10.945295, 8.741815), (11.25, 10), (10.945295, 11.258185))
            Line((11.492175, 11.909931), (10.945295, 11.258185))
            ThreePointArc((11.492175, 11.909931), (11.011737, 12.50841), (10.413895, 12.989641))
            Line((9.758185, 12.445295), (10.413895, 12.989641))
            ThreePointArc((9.758185, 12.445295), (8.5, 12.75), (7.241815, 12.445295))
            Line((6.586105, 12.989641), (7.241815, 12.445295))
        make_face()
    extrude(amount=-POCKET020_DEPTH, mode=Mode.SUBTRACT)

    # Fusion010: union Pad008
    add(pad008.part)


with BuildPart() as fusion010_1:
    # Fusion010 placement: moved
    add(fusion010.part.moved(Location((217, -156, -510))))


solid = fusion010_1.part
